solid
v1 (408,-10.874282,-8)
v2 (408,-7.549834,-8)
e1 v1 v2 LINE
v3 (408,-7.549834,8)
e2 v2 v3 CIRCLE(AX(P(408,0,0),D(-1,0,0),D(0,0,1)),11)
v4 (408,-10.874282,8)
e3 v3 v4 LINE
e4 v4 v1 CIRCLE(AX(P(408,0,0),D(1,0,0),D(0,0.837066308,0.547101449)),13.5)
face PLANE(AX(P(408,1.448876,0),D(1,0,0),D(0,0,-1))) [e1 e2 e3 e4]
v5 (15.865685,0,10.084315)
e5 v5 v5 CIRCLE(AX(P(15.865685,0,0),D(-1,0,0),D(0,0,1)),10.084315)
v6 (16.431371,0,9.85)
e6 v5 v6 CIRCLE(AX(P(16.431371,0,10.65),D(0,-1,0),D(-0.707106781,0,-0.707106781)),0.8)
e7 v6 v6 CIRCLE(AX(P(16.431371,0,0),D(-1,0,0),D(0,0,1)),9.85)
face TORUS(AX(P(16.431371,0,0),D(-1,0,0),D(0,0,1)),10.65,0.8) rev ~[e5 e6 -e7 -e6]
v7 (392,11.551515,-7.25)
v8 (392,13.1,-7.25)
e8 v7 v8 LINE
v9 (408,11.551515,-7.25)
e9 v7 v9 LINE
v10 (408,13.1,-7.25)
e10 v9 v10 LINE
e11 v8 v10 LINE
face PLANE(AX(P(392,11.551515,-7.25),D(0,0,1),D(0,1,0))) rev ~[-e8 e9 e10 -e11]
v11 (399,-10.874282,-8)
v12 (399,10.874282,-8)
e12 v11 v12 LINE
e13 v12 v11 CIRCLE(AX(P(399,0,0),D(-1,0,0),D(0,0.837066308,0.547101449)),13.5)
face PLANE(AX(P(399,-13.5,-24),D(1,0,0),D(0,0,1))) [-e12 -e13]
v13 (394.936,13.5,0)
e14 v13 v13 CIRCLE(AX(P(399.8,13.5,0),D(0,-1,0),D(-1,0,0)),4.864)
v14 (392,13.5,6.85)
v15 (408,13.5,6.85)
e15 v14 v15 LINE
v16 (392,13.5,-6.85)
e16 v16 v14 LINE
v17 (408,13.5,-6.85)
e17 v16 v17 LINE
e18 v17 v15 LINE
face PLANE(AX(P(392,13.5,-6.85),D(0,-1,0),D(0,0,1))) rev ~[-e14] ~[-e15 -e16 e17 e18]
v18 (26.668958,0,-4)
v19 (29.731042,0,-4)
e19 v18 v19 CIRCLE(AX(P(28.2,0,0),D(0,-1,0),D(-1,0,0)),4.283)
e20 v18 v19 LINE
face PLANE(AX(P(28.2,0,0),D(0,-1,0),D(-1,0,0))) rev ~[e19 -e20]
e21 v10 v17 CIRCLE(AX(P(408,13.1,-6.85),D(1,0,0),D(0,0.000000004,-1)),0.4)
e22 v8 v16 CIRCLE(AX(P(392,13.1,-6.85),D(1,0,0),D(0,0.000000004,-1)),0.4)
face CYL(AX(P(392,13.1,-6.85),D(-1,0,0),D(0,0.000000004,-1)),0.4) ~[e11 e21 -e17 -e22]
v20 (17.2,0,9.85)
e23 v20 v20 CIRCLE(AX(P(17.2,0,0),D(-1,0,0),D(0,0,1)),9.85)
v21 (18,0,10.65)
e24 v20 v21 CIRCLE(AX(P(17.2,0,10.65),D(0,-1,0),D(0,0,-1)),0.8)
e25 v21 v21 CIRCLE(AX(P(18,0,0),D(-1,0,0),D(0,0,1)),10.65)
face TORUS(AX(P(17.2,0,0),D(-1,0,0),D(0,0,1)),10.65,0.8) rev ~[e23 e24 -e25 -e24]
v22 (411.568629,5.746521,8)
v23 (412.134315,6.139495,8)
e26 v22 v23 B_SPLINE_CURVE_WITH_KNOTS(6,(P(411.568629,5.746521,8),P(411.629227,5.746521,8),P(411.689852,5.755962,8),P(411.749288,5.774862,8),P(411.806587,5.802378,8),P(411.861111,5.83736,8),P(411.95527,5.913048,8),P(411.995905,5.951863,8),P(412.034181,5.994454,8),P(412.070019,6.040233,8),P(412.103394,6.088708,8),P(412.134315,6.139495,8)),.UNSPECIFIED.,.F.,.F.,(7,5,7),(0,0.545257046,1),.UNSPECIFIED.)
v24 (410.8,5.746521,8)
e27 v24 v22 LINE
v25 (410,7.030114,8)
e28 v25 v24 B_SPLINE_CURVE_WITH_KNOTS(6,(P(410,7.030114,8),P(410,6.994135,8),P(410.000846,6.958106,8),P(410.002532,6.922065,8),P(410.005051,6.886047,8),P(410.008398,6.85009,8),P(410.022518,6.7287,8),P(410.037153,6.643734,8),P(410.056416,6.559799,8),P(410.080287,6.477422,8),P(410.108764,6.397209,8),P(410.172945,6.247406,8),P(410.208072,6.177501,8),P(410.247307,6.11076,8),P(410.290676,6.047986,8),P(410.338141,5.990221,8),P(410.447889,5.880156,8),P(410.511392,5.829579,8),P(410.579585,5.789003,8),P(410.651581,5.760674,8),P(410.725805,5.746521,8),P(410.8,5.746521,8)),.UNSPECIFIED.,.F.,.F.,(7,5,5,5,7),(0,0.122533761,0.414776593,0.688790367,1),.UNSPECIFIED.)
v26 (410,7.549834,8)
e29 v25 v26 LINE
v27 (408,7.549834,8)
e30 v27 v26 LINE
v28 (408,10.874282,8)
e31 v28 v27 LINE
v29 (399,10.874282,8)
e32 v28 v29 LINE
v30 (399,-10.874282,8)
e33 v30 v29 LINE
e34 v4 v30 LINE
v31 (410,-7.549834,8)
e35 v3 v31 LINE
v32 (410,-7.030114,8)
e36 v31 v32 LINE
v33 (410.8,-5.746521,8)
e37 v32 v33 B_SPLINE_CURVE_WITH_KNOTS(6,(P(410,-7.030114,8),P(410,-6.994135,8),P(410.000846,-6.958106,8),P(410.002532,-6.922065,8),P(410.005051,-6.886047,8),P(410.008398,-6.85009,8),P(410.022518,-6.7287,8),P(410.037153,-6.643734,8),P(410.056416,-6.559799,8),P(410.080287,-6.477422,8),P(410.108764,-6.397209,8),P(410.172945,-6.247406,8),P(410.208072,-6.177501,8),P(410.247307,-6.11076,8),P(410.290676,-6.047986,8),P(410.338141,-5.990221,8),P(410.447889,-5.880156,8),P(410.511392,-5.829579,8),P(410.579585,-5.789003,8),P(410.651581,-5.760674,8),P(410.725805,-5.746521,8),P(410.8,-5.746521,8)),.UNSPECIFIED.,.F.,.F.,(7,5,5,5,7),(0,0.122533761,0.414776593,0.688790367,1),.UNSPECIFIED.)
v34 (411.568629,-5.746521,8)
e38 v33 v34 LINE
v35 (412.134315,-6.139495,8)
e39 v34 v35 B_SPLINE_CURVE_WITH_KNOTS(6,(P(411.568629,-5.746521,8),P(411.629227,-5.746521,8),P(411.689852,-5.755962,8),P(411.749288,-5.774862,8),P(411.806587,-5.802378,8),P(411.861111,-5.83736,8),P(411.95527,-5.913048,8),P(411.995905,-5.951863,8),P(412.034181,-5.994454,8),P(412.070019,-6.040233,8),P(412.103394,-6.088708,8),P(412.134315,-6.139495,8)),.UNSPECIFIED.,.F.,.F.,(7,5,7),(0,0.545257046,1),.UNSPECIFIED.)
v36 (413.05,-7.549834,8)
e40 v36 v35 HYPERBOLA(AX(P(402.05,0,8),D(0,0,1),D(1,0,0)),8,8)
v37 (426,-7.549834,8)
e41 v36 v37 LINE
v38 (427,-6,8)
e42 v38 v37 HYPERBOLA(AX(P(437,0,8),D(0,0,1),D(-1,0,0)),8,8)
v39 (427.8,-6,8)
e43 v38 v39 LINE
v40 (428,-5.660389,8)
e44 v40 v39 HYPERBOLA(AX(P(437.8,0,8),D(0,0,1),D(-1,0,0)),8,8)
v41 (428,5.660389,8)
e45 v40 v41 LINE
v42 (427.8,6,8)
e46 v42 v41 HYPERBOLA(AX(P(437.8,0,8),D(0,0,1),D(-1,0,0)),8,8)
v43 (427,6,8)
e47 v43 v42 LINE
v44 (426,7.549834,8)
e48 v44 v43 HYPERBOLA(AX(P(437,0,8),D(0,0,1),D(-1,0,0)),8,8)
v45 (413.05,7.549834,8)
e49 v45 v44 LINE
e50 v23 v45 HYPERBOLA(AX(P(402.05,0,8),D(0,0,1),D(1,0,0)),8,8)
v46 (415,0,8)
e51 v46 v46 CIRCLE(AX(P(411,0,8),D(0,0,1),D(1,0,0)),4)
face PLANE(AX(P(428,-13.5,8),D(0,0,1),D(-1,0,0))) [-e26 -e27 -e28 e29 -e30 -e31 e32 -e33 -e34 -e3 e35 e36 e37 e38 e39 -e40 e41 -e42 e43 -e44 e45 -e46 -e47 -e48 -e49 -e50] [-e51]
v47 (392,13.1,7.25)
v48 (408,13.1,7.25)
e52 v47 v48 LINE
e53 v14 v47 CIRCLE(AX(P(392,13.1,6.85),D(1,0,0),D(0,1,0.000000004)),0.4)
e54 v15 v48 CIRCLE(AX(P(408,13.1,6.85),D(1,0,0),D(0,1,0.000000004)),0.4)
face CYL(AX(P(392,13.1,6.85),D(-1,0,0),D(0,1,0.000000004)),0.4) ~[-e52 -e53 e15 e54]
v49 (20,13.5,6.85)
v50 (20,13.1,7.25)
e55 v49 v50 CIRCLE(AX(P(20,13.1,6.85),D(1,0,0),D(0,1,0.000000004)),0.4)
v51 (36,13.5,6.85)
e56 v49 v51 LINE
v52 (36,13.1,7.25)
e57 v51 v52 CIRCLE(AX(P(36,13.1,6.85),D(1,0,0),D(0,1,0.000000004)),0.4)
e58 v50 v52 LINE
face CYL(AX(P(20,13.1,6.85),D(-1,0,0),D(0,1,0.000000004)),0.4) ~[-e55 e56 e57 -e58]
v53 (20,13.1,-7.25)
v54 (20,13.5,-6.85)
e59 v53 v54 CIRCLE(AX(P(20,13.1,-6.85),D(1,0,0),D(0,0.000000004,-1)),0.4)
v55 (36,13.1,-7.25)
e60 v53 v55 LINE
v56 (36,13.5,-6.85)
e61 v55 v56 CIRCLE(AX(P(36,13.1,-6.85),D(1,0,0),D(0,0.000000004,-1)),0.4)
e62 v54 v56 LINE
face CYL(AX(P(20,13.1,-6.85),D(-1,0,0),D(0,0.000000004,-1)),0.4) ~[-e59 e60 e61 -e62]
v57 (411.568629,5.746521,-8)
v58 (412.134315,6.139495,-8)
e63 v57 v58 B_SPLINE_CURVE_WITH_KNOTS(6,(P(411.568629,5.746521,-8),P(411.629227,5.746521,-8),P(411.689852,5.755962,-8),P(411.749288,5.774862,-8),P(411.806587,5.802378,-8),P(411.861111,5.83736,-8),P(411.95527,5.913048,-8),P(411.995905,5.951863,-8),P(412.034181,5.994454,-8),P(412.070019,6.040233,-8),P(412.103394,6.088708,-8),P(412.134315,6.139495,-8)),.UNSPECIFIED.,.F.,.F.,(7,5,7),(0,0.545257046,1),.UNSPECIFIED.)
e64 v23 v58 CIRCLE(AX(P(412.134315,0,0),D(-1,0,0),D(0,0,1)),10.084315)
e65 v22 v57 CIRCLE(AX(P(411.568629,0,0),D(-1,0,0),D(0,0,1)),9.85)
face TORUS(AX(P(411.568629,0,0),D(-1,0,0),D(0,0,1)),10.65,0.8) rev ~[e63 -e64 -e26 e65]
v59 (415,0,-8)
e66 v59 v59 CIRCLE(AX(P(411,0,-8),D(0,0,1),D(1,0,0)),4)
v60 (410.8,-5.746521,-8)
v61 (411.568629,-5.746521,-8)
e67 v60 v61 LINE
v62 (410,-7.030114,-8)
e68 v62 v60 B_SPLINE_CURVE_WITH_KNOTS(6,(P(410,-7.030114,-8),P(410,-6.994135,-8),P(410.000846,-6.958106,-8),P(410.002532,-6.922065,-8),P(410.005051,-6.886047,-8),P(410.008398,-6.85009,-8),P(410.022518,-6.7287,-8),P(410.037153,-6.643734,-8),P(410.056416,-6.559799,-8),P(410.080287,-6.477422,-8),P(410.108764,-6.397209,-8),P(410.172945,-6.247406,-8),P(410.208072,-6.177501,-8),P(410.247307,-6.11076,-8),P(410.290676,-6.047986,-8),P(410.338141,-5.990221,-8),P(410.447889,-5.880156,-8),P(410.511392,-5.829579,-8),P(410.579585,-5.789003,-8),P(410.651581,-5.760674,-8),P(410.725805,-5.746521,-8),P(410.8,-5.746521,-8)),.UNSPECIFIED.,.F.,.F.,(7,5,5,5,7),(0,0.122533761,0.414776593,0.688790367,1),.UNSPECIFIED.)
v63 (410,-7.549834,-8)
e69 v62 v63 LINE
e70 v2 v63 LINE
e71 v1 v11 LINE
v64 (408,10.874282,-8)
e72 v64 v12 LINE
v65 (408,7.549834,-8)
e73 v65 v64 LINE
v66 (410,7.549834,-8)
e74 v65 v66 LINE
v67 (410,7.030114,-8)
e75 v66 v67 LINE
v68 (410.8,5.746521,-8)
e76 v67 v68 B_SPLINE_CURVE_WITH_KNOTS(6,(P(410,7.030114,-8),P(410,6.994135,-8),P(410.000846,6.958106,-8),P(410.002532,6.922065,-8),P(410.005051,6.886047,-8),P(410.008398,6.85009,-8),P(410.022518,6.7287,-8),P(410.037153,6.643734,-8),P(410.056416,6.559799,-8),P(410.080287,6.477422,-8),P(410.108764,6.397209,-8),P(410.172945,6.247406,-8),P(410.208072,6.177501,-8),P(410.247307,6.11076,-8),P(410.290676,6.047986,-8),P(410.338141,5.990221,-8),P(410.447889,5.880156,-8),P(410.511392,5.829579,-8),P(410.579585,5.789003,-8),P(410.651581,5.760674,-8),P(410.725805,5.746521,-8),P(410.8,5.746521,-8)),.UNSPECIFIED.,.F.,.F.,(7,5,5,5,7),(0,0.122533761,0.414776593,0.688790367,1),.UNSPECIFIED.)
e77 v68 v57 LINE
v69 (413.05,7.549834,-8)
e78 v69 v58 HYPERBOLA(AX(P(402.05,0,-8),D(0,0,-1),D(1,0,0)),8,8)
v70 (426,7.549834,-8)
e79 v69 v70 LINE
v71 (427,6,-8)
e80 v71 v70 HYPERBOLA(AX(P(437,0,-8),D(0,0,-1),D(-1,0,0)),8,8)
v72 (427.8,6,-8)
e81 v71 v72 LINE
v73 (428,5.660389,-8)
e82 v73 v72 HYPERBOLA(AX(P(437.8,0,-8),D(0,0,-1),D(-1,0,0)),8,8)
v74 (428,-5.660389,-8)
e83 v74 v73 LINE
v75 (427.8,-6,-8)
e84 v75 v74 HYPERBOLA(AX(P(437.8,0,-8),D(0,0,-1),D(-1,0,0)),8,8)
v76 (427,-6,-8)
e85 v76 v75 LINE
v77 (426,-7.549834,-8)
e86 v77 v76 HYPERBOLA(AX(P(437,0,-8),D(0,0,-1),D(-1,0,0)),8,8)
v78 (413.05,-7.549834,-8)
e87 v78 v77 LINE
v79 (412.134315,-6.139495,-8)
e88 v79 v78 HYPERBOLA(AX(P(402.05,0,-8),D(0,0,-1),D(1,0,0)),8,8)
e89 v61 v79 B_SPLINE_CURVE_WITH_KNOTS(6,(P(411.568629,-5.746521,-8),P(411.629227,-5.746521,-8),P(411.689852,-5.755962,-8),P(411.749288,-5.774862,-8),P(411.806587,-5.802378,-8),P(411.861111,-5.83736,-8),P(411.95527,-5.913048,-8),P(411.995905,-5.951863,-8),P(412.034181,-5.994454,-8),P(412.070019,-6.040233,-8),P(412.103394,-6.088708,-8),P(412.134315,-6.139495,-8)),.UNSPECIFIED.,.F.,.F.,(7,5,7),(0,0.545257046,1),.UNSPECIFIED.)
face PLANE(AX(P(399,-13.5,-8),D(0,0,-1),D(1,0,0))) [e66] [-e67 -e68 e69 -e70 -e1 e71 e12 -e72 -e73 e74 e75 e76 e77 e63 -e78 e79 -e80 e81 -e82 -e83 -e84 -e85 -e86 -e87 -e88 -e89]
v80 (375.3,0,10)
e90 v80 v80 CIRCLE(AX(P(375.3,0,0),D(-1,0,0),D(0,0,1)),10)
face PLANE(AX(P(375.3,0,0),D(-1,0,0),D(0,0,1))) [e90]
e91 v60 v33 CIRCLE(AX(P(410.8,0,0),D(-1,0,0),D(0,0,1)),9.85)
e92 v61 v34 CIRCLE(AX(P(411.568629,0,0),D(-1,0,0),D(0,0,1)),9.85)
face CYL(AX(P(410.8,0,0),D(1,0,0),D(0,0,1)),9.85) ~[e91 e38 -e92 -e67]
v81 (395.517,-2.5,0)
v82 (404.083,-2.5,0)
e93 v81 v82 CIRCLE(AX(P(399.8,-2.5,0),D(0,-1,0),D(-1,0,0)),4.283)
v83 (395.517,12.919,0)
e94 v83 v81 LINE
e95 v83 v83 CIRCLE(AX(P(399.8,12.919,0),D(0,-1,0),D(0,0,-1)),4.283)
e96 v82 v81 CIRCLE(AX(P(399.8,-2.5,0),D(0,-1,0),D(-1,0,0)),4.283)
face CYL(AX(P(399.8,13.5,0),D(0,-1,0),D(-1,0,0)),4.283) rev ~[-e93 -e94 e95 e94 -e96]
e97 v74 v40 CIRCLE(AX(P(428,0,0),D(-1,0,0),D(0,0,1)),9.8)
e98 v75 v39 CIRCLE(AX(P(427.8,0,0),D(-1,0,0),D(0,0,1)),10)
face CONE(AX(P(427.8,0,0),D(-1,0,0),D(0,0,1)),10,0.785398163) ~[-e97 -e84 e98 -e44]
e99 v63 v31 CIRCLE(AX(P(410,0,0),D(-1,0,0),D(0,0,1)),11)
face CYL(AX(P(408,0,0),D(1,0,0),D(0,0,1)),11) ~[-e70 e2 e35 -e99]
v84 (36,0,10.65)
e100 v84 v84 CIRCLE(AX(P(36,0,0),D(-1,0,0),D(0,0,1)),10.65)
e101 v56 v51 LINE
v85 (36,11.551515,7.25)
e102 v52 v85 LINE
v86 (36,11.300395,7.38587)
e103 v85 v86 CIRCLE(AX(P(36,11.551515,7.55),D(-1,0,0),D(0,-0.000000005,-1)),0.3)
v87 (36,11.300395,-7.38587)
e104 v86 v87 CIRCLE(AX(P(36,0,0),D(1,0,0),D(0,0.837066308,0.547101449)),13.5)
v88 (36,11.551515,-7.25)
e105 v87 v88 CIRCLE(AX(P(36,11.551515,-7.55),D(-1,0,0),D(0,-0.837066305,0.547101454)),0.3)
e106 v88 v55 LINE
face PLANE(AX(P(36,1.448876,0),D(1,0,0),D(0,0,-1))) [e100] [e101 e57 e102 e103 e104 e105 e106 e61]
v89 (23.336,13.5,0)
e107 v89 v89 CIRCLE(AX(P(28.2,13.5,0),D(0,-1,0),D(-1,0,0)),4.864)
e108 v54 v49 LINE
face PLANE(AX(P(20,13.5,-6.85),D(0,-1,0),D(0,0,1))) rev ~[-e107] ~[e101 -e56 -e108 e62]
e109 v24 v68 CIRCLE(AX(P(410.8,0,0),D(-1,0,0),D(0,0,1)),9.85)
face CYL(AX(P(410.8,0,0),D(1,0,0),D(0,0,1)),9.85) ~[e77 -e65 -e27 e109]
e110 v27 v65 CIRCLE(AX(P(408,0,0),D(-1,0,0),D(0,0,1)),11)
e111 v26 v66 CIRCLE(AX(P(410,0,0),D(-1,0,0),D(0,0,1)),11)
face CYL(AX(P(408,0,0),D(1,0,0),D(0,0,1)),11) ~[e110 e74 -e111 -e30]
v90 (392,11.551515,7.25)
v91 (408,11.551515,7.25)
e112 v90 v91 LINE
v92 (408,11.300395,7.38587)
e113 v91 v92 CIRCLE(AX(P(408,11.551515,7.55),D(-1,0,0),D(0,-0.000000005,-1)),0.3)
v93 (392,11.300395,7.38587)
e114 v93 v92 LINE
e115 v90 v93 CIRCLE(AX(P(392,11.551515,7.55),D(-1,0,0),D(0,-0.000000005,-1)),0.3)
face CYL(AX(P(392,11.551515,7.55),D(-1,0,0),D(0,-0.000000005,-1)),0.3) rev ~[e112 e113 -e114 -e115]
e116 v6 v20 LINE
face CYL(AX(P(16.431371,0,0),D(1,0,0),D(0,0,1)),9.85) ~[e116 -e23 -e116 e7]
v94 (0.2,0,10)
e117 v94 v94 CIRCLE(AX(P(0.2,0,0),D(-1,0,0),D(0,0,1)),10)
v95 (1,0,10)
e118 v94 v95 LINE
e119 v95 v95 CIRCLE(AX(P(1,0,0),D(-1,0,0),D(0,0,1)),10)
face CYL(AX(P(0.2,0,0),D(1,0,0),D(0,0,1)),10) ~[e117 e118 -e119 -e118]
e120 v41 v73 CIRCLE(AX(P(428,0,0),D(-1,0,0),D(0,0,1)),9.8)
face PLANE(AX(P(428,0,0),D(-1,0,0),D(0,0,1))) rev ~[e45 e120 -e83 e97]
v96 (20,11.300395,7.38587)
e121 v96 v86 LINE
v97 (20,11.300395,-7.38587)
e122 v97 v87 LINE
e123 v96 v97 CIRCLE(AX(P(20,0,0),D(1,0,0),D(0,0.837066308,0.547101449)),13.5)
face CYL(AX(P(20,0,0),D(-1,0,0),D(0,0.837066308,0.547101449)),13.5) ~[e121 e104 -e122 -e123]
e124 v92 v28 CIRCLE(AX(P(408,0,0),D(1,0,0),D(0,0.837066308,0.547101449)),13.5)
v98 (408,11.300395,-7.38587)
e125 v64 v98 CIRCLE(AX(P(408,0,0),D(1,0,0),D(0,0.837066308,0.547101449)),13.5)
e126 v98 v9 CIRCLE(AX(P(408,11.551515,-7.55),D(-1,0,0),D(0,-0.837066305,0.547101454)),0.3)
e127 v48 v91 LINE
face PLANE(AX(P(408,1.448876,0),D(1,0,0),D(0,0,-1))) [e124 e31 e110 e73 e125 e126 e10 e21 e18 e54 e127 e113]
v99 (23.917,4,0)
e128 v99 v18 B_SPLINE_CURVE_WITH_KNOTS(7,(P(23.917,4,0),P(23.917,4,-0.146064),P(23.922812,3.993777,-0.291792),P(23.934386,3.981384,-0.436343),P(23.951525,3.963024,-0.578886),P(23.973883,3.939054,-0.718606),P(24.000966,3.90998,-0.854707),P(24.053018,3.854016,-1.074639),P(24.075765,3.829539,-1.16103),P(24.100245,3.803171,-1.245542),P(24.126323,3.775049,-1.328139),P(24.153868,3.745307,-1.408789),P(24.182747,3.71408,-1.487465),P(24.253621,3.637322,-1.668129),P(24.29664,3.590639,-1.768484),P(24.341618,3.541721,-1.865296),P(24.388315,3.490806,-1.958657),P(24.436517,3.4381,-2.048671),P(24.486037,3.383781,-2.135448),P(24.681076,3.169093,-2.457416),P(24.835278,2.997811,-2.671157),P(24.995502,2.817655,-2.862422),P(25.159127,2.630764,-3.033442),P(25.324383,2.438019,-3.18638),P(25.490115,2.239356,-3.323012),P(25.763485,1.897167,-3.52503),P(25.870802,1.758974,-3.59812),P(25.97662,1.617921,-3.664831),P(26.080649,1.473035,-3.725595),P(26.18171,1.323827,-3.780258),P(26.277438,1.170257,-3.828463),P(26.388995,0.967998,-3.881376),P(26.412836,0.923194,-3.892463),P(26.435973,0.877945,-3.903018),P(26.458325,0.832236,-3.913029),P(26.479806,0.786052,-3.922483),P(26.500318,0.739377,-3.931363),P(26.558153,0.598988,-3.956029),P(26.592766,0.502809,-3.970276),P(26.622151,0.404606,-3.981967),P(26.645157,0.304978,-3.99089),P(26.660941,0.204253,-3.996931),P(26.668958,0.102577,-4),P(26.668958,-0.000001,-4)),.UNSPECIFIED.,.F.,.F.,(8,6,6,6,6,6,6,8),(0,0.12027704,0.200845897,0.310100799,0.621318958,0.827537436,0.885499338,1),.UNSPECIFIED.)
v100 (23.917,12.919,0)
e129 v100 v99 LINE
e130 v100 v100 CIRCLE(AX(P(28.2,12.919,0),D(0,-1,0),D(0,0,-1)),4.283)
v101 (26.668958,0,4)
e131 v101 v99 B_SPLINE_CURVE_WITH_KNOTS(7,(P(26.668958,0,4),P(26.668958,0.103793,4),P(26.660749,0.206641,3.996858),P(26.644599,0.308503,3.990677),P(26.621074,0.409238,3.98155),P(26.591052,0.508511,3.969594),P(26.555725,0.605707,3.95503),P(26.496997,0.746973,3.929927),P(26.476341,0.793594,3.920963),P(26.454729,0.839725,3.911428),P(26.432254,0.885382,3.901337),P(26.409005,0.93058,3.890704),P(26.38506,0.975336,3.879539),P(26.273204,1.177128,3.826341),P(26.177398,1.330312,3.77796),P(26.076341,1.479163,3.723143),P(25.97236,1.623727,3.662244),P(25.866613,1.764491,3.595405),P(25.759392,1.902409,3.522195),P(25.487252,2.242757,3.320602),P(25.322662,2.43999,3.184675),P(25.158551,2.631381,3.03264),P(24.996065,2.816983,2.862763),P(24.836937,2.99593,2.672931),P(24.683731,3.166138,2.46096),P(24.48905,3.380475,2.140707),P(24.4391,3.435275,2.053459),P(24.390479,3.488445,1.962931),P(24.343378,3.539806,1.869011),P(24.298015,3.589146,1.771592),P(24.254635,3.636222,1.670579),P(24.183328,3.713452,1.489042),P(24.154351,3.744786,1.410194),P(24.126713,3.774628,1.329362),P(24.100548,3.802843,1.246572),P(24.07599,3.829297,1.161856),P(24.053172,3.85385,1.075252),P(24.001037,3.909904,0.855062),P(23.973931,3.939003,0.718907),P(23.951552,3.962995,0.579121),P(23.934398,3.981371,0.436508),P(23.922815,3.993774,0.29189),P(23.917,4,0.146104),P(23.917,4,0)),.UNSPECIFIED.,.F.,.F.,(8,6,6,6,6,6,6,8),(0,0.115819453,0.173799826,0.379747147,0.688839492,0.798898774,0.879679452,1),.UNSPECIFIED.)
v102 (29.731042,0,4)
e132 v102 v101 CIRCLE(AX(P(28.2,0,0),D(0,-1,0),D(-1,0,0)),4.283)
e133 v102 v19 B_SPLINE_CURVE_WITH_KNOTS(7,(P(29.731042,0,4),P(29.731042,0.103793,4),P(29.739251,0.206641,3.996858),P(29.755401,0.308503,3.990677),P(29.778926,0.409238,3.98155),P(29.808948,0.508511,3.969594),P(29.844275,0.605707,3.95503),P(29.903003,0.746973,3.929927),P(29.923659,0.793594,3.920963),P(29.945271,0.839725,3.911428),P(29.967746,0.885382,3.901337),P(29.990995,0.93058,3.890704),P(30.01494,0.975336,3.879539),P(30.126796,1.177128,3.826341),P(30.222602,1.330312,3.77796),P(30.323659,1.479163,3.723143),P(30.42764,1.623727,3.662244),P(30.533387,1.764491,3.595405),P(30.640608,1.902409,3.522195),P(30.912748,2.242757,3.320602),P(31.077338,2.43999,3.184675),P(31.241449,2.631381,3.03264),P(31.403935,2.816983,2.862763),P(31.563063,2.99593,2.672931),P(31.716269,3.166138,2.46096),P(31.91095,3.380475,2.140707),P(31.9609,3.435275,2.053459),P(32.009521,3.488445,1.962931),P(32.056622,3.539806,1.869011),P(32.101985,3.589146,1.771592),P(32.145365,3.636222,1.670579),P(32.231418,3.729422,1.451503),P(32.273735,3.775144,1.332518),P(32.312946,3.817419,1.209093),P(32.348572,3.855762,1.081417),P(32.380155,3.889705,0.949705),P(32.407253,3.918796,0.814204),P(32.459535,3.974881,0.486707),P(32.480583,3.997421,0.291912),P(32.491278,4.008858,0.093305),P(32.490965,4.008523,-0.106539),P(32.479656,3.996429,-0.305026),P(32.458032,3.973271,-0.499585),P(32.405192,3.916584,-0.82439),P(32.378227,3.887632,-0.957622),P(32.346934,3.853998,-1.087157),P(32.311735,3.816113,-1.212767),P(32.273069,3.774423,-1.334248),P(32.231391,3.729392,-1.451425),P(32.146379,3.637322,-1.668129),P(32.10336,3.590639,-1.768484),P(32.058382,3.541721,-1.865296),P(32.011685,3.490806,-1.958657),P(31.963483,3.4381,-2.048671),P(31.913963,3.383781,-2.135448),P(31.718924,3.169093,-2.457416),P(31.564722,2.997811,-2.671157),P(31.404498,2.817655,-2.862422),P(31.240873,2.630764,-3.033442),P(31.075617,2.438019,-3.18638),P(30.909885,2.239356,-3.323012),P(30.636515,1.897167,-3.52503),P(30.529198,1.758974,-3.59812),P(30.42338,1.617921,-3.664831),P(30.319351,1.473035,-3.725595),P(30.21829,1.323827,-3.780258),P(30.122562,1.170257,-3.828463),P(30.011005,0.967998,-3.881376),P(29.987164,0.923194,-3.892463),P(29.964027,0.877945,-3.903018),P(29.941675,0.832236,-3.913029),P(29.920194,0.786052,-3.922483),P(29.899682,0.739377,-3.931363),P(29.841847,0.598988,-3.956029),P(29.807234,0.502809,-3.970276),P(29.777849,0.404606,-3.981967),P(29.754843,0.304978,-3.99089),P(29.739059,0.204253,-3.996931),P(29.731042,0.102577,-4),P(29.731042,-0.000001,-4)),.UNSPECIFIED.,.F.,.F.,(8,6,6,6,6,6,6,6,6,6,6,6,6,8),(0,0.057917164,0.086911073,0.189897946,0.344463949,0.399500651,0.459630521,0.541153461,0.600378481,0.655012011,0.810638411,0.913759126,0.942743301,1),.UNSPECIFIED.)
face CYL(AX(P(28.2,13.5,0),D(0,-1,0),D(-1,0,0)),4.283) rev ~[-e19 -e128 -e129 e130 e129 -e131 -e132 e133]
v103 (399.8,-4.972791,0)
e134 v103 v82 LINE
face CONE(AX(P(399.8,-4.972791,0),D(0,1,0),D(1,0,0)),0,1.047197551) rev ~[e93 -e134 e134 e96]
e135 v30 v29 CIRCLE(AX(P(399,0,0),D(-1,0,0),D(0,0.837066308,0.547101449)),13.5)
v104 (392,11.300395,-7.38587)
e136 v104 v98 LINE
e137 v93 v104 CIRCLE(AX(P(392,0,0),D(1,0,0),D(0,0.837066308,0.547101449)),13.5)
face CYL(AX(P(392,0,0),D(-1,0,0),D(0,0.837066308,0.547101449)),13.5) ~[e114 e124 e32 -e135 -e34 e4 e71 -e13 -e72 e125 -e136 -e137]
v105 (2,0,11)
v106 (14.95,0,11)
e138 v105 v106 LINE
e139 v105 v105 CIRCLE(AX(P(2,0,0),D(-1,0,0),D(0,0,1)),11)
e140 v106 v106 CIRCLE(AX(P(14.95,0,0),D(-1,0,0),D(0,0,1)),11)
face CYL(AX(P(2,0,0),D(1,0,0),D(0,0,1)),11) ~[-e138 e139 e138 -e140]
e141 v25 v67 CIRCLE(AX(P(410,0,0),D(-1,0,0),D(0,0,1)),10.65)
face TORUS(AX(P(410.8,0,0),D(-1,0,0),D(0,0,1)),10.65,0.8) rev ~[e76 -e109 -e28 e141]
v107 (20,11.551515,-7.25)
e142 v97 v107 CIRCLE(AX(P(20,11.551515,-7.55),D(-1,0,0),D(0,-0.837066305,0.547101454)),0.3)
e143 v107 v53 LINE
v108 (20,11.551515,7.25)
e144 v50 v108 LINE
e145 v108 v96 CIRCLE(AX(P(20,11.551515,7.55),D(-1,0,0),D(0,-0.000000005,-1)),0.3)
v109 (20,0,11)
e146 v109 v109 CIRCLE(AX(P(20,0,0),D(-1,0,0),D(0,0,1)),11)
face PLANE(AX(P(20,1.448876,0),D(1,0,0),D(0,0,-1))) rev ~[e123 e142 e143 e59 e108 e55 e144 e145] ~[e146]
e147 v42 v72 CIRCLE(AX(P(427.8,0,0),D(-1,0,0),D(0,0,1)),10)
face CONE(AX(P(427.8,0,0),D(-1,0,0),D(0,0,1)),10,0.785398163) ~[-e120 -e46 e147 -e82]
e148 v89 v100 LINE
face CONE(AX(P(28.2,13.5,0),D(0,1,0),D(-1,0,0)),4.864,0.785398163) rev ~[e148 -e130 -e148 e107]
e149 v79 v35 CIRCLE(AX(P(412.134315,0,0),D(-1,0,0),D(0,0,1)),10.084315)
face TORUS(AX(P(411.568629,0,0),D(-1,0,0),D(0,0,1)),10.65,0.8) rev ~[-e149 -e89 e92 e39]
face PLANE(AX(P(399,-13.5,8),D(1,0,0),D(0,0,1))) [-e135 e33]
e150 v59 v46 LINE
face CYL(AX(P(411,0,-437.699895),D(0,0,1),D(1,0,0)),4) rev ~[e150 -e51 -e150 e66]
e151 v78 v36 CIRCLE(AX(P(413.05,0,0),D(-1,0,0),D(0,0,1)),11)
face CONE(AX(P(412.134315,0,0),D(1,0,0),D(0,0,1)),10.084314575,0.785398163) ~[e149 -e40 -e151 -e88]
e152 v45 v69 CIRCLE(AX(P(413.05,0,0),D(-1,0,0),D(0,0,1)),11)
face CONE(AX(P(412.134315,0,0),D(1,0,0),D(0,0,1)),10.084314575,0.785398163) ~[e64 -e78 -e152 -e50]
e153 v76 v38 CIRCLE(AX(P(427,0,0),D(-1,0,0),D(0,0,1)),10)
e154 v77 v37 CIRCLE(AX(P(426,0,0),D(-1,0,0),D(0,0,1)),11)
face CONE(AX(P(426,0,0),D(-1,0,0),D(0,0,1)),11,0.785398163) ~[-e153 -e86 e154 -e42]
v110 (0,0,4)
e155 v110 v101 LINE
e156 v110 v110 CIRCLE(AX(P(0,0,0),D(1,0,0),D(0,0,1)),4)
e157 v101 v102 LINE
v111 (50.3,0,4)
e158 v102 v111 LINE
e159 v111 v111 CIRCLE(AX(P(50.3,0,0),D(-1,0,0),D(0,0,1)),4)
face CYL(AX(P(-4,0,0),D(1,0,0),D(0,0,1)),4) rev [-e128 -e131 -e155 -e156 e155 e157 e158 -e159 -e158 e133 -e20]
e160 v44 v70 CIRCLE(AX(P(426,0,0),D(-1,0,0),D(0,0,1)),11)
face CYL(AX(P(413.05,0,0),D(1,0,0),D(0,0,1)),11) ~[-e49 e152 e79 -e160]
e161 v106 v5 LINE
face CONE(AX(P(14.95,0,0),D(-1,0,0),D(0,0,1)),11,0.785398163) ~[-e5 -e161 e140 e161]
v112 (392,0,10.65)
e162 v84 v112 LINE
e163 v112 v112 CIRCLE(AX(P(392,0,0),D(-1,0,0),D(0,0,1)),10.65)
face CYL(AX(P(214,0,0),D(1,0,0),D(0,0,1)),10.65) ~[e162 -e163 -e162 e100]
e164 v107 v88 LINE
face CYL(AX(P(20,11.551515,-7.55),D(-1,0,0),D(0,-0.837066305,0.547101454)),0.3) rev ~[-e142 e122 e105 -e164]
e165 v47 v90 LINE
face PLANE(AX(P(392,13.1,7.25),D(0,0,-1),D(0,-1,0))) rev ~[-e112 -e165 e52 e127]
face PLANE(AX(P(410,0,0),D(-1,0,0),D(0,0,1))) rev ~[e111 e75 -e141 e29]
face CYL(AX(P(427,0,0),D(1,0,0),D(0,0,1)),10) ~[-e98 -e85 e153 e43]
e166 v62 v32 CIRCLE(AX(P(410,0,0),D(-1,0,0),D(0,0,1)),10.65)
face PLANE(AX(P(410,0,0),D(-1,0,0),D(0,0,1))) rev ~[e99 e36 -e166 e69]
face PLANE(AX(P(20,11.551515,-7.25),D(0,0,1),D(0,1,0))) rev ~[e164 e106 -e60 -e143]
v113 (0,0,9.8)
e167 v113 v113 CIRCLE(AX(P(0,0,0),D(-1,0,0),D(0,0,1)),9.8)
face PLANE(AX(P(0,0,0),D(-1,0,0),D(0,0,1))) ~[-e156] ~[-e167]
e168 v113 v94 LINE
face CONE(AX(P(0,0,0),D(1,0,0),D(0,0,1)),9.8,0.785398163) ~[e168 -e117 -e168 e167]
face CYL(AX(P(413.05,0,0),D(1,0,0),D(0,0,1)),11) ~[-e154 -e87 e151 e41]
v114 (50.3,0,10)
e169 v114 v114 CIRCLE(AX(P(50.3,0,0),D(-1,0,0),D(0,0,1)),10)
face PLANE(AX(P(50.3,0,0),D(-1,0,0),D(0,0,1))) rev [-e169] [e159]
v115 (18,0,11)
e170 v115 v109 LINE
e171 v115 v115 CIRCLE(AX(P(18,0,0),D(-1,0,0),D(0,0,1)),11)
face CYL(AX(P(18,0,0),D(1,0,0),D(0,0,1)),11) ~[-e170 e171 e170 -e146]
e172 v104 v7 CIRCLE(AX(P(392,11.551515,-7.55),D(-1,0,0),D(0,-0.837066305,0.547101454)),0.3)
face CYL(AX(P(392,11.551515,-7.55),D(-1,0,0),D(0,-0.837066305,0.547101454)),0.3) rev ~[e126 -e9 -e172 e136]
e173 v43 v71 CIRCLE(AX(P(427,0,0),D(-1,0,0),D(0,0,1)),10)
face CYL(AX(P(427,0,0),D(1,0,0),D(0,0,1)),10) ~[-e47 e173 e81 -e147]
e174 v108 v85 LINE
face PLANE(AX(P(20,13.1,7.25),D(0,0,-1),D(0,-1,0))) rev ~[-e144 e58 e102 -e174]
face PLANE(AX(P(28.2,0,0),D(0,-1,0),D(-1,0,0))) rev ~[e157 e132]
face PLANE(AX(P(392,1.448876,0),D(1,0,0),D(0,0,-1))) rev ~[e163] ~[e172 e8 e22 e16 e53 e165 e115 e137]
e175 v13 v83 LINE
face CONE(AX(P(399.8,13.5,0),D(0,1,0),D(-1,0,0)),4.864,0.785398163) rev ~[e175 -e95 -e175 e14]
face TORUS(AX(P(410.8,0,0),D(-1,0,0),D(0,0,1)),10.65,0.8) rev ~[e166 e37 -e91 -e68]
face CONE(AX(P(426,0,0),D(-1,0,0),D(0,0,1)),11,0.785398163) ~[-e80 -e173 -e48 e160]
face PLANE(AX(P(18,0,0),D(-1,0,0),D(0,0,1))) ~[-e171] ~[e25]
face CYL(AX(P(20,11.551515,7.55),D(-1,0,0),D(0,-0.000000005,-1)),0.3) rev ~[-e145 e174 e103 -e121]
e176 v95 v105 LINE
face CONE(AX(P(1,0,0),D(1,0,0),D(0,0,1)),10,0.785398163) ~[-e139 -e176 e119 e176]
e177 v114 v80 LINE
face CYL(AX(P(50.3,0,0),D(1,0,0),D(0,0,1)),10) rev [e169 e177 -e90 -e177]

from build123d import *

# Parameters (mm, degrees)
AUFSATZ_LINEAR_AUSTRAGEN1_DEPTH      = 16
SKIZZE3_W                            = 356
SKIZZE3_H                            = 10.65
AUFSATZ_LINEAR_AUSTRAGEN2_DEPTH      = 16
SCHNITT_LINEAR_AUSTRAGEN1_DEPTH      = 13.5
SCHNITT_LINEAR_AUSTRAGEN1_DEPTH_BACK = 13.5
BOHRUNG1_D                           = 8
BOHRUNG2_D                           = 8.566
BOHRUNG2_DEPTH                       = 13.5
BOHRUNG2_CSINK_D                     = 9.728
BOHRUNG2_CSINK_ANGLE                 = 90
BOHRUNG3_D                           = 8.566
BOHRUNG3_DEPTH                       = 16
BOHRUNG3_CSINK_D                     = 9.728
BOHRUNG3_CSINK_ANGLE                 = 90
BOHRUNG3_TIP                         = 2.472791203


with BuildPart() as part:
    # Skizze1 → Rotation1 (revolve)
    with BuildSketch(Plane.XY):
        with BuildLine():
            Line((0, 0), (0, 9.8))
            Line((0, 9.8), (0.2, 10))
            Line((0.2, 10), (1, 10))
            Line((1, 10), (2, 11))
            Line((2, 11), (14.95, 11))
            Line((14.95, 11), (15.865685425, 10.084314575))
            ThreePointArc((15.865685425, 10.084314575), (16.125224104, 9.910896374), (16.43137085, 9.85))
            Line((16.43137085, 9.85), (17.2, 9.85))
            ThreePointArc((17.2, 9.85), (17.765685425, 10.084314575), (18, 10.65))
            Line((18, 10.65), (18, 11))
            Line((18, 11), (20, 11))
            Line((20, 11), (20, 0))
            Line((20, 0), (0, 0))
        make_face()
    revolve(axis=Axis((20, 0, 0), (-1, 0, 0)))

    # Skizze2 → Aufsatz-Linear austragen1 (add)
    with BuildSketch(Plane(origin=(20, 0, 0), x_dir=(0, 0, -1), z_dir=(1, 0, 0))):
        with BuildLine():
            Line((7.25, 11.551515052), (7.25, 13.1))
            ThreePointArc((7.25, 13.1), (7.132842712, 13.382842712), (6.85, 13.5))
            Line((6.85, 13.5), (-6.85, 13.5))
            ThreePointArc((-6.85, 13.5), (-7.132842712, 13.382842712), (-7.25, 13.1))
            Line((-7.25, 13.1), (-7.25, 11.551515052))
            ThreePointArc((-7.25, 11.551515052), (-7.286144803, 11.408754992), (-7.385869565, 11.30039516))
            ThreePointArc((-7.385869565, 11.30039516), (0, -13.5), (7.385869565, 11.30039516))
            ThreePointArc((7.385869565, 11.30039516), (7.286144803, 11.408754992), (7.25, 11.551515052))
        make_face()
    extrude(amount=AUFSATZ_LINEAR_AUSTRAGEN1_DEPTH)

    # Skizze3 → Rotation2 (revolve)
    with BuildSketch(Plane.XY):
        with Locations((214, 5.325)):
            Rectangle(SKIZZE3_W, SKIZZE3_H)
    revolve(axis=Axis((392, 0, 0), (-1, 0, 0)))

    # Skizze4 → Aufsatz-Linear austragen2 (add)
    with BuildSketch(Plane(origin=(392, 0, 0), x_dir=(0, 0, -1), z_dir=(1, 0, 0))):
        with BuildLine():
            Line((7.25, 11.551515052), (7.25, 13.1))
            ThreePointArc((7.25, 13.1), (7.132842712, 13.382842712), (6.85, 13.5))
            Line((6.85, 13.5), (-6.85, 13.5))
            ThreePointArc((-6.85, 13.5), (-7.132842712, 13.382842712), (-7.25, 13.1))
            Line((-7.25, 13.1), (-7.25, 11.551515052))
            ThreePointArc((-7.25, 11.551515052), (-7.286144803, 11.408754992), (-7.385869565, 11.30039516))
            ThreePointArc((-7.385869565, 11.30039516), (0, -13.5), (7.385869565, 11.30039516))
            ThreePointArc((7.385869565, 11.30039516), (7.286144803, 11.408754992), (7.25, 11.551515052))
        make_face()
    extrude(amount=AUFSATZ_LINEAR_AUSTRAGEN2_DEPTH)

    # Skizze5 → Rotation3 (revolve)
    with BuildSketch(Plane.XY):
        with BuildLine():
            Line((408, 0), (408, 11))
            Line((408, 11), (410, 11))
            Line((410, 11), (410, 10.65))
            ThreePointArc((410, 10.65), (410.234314575, 10.084314575), (410.8, 9.85))
            Line((410.8, 9.85), (411.56862915, 9.85))
            ThreePointArc((411.56862915, 9.85), (411.874775896, 9.910896374), (412.134314575, 10.084314575))
            Line((412.134314575, 10.084314575), (413.05, 11))
            Line((413.05, 11), (426, 11))
            Line((426, 11), (427, 10))
            Line((427, 10), (427.8, 10))
            Line((427.8, 10), (428, 9.8))
            Line((428, 9.8), (428, 0))
            Line((428, 0), (408, 0))
        make_face()
    revolve(axis=Axis((428, 0, 0), (-1, 0, 0)))

    # Skizze6 → Schnitt-Linear austragen1 (cut, two sides: drawn at the far end of the back side and taken through both)
    with BuildSketch(Plane(origin=(0, 0, 0), x_dir=(1, 0, 0), z_dir=(0, 1, 0)).offset(-SCHNITT_LINEAR_AUSTRAGEN1_DEPTH_BACK)):
        Polygon((399, 24), (399, 8), (428, 8), (428, -8), (399, -8), (399, -24), (444, -24), (444, 24), align=None)
    extrude(amount=SCHNITT_LINEAR_AUSTRAGEN1_DEPTH + SCHNITT_LINEAR_AUSTRAGEN1_DEPTH_BACK, mode=Mode.SUBTRACT)

    # Bohrung1 (through all)
    with Locations(Plane(origin=(0, 0, -8), x_dir=(-1, 0, 0), z_dir=(0, 0, -1))):
        with Locations((-411, 0)):
            Hole(BOHRUNG1_D / 2)

    # Bohrung2
    with Locations(Plane(origin=(0, 13.5, 0), x_dir=(1, 0, 0), z_dir=(0, 1, 0))):
        with Locations((28.2, 0)):
            CounterSinkHole(BOHRUNG2_D / 2, BOHRUNG2_CSINK_D / 2, depth=BOHRUNG2_DEPTH, counter_sink_angle=BOHRUNG2_CSINK_ANGLE)

    # Bohrung3
    with Locations(Plane(origin=(0, 13.5, 0), x_dir=(1, 0, 0), z_dir=(0, 1, 0))):
        with Locations((399.8, 0)):
            CounterSinkHole(BOHRUNG3_D / 2, BOHRUNG3_CSINK_D / 2, depth=BOHRUNG3_DEPTH, counter_sink_angle=BOHRUNG3_CSINK_ANGLE)
            with Locations((0, 0, -(BOHRUNG3_DEPTH + BOHRUNG3_TIP / 2))):  # 120° drill point
                Cone(0, BOHRUNG3_D / 2, BOHRUNG3_TIP, mode=Mode.SUBTRACT)

    # Skizze13 → Schnitt-Rotation1 (revolve, cut)
    with BuildSketch(Plane.XY):
        Polygon((-4, 0), (-4, 4), (50.3, 4), (50.3, 10), (375.3, 10), (375.3, 0), align=None)
    revolve(axis=Axis((375.3, 0, 0), (-1, 0, 0)), mode=Mode.SUBTRACT)


solid = part.part
